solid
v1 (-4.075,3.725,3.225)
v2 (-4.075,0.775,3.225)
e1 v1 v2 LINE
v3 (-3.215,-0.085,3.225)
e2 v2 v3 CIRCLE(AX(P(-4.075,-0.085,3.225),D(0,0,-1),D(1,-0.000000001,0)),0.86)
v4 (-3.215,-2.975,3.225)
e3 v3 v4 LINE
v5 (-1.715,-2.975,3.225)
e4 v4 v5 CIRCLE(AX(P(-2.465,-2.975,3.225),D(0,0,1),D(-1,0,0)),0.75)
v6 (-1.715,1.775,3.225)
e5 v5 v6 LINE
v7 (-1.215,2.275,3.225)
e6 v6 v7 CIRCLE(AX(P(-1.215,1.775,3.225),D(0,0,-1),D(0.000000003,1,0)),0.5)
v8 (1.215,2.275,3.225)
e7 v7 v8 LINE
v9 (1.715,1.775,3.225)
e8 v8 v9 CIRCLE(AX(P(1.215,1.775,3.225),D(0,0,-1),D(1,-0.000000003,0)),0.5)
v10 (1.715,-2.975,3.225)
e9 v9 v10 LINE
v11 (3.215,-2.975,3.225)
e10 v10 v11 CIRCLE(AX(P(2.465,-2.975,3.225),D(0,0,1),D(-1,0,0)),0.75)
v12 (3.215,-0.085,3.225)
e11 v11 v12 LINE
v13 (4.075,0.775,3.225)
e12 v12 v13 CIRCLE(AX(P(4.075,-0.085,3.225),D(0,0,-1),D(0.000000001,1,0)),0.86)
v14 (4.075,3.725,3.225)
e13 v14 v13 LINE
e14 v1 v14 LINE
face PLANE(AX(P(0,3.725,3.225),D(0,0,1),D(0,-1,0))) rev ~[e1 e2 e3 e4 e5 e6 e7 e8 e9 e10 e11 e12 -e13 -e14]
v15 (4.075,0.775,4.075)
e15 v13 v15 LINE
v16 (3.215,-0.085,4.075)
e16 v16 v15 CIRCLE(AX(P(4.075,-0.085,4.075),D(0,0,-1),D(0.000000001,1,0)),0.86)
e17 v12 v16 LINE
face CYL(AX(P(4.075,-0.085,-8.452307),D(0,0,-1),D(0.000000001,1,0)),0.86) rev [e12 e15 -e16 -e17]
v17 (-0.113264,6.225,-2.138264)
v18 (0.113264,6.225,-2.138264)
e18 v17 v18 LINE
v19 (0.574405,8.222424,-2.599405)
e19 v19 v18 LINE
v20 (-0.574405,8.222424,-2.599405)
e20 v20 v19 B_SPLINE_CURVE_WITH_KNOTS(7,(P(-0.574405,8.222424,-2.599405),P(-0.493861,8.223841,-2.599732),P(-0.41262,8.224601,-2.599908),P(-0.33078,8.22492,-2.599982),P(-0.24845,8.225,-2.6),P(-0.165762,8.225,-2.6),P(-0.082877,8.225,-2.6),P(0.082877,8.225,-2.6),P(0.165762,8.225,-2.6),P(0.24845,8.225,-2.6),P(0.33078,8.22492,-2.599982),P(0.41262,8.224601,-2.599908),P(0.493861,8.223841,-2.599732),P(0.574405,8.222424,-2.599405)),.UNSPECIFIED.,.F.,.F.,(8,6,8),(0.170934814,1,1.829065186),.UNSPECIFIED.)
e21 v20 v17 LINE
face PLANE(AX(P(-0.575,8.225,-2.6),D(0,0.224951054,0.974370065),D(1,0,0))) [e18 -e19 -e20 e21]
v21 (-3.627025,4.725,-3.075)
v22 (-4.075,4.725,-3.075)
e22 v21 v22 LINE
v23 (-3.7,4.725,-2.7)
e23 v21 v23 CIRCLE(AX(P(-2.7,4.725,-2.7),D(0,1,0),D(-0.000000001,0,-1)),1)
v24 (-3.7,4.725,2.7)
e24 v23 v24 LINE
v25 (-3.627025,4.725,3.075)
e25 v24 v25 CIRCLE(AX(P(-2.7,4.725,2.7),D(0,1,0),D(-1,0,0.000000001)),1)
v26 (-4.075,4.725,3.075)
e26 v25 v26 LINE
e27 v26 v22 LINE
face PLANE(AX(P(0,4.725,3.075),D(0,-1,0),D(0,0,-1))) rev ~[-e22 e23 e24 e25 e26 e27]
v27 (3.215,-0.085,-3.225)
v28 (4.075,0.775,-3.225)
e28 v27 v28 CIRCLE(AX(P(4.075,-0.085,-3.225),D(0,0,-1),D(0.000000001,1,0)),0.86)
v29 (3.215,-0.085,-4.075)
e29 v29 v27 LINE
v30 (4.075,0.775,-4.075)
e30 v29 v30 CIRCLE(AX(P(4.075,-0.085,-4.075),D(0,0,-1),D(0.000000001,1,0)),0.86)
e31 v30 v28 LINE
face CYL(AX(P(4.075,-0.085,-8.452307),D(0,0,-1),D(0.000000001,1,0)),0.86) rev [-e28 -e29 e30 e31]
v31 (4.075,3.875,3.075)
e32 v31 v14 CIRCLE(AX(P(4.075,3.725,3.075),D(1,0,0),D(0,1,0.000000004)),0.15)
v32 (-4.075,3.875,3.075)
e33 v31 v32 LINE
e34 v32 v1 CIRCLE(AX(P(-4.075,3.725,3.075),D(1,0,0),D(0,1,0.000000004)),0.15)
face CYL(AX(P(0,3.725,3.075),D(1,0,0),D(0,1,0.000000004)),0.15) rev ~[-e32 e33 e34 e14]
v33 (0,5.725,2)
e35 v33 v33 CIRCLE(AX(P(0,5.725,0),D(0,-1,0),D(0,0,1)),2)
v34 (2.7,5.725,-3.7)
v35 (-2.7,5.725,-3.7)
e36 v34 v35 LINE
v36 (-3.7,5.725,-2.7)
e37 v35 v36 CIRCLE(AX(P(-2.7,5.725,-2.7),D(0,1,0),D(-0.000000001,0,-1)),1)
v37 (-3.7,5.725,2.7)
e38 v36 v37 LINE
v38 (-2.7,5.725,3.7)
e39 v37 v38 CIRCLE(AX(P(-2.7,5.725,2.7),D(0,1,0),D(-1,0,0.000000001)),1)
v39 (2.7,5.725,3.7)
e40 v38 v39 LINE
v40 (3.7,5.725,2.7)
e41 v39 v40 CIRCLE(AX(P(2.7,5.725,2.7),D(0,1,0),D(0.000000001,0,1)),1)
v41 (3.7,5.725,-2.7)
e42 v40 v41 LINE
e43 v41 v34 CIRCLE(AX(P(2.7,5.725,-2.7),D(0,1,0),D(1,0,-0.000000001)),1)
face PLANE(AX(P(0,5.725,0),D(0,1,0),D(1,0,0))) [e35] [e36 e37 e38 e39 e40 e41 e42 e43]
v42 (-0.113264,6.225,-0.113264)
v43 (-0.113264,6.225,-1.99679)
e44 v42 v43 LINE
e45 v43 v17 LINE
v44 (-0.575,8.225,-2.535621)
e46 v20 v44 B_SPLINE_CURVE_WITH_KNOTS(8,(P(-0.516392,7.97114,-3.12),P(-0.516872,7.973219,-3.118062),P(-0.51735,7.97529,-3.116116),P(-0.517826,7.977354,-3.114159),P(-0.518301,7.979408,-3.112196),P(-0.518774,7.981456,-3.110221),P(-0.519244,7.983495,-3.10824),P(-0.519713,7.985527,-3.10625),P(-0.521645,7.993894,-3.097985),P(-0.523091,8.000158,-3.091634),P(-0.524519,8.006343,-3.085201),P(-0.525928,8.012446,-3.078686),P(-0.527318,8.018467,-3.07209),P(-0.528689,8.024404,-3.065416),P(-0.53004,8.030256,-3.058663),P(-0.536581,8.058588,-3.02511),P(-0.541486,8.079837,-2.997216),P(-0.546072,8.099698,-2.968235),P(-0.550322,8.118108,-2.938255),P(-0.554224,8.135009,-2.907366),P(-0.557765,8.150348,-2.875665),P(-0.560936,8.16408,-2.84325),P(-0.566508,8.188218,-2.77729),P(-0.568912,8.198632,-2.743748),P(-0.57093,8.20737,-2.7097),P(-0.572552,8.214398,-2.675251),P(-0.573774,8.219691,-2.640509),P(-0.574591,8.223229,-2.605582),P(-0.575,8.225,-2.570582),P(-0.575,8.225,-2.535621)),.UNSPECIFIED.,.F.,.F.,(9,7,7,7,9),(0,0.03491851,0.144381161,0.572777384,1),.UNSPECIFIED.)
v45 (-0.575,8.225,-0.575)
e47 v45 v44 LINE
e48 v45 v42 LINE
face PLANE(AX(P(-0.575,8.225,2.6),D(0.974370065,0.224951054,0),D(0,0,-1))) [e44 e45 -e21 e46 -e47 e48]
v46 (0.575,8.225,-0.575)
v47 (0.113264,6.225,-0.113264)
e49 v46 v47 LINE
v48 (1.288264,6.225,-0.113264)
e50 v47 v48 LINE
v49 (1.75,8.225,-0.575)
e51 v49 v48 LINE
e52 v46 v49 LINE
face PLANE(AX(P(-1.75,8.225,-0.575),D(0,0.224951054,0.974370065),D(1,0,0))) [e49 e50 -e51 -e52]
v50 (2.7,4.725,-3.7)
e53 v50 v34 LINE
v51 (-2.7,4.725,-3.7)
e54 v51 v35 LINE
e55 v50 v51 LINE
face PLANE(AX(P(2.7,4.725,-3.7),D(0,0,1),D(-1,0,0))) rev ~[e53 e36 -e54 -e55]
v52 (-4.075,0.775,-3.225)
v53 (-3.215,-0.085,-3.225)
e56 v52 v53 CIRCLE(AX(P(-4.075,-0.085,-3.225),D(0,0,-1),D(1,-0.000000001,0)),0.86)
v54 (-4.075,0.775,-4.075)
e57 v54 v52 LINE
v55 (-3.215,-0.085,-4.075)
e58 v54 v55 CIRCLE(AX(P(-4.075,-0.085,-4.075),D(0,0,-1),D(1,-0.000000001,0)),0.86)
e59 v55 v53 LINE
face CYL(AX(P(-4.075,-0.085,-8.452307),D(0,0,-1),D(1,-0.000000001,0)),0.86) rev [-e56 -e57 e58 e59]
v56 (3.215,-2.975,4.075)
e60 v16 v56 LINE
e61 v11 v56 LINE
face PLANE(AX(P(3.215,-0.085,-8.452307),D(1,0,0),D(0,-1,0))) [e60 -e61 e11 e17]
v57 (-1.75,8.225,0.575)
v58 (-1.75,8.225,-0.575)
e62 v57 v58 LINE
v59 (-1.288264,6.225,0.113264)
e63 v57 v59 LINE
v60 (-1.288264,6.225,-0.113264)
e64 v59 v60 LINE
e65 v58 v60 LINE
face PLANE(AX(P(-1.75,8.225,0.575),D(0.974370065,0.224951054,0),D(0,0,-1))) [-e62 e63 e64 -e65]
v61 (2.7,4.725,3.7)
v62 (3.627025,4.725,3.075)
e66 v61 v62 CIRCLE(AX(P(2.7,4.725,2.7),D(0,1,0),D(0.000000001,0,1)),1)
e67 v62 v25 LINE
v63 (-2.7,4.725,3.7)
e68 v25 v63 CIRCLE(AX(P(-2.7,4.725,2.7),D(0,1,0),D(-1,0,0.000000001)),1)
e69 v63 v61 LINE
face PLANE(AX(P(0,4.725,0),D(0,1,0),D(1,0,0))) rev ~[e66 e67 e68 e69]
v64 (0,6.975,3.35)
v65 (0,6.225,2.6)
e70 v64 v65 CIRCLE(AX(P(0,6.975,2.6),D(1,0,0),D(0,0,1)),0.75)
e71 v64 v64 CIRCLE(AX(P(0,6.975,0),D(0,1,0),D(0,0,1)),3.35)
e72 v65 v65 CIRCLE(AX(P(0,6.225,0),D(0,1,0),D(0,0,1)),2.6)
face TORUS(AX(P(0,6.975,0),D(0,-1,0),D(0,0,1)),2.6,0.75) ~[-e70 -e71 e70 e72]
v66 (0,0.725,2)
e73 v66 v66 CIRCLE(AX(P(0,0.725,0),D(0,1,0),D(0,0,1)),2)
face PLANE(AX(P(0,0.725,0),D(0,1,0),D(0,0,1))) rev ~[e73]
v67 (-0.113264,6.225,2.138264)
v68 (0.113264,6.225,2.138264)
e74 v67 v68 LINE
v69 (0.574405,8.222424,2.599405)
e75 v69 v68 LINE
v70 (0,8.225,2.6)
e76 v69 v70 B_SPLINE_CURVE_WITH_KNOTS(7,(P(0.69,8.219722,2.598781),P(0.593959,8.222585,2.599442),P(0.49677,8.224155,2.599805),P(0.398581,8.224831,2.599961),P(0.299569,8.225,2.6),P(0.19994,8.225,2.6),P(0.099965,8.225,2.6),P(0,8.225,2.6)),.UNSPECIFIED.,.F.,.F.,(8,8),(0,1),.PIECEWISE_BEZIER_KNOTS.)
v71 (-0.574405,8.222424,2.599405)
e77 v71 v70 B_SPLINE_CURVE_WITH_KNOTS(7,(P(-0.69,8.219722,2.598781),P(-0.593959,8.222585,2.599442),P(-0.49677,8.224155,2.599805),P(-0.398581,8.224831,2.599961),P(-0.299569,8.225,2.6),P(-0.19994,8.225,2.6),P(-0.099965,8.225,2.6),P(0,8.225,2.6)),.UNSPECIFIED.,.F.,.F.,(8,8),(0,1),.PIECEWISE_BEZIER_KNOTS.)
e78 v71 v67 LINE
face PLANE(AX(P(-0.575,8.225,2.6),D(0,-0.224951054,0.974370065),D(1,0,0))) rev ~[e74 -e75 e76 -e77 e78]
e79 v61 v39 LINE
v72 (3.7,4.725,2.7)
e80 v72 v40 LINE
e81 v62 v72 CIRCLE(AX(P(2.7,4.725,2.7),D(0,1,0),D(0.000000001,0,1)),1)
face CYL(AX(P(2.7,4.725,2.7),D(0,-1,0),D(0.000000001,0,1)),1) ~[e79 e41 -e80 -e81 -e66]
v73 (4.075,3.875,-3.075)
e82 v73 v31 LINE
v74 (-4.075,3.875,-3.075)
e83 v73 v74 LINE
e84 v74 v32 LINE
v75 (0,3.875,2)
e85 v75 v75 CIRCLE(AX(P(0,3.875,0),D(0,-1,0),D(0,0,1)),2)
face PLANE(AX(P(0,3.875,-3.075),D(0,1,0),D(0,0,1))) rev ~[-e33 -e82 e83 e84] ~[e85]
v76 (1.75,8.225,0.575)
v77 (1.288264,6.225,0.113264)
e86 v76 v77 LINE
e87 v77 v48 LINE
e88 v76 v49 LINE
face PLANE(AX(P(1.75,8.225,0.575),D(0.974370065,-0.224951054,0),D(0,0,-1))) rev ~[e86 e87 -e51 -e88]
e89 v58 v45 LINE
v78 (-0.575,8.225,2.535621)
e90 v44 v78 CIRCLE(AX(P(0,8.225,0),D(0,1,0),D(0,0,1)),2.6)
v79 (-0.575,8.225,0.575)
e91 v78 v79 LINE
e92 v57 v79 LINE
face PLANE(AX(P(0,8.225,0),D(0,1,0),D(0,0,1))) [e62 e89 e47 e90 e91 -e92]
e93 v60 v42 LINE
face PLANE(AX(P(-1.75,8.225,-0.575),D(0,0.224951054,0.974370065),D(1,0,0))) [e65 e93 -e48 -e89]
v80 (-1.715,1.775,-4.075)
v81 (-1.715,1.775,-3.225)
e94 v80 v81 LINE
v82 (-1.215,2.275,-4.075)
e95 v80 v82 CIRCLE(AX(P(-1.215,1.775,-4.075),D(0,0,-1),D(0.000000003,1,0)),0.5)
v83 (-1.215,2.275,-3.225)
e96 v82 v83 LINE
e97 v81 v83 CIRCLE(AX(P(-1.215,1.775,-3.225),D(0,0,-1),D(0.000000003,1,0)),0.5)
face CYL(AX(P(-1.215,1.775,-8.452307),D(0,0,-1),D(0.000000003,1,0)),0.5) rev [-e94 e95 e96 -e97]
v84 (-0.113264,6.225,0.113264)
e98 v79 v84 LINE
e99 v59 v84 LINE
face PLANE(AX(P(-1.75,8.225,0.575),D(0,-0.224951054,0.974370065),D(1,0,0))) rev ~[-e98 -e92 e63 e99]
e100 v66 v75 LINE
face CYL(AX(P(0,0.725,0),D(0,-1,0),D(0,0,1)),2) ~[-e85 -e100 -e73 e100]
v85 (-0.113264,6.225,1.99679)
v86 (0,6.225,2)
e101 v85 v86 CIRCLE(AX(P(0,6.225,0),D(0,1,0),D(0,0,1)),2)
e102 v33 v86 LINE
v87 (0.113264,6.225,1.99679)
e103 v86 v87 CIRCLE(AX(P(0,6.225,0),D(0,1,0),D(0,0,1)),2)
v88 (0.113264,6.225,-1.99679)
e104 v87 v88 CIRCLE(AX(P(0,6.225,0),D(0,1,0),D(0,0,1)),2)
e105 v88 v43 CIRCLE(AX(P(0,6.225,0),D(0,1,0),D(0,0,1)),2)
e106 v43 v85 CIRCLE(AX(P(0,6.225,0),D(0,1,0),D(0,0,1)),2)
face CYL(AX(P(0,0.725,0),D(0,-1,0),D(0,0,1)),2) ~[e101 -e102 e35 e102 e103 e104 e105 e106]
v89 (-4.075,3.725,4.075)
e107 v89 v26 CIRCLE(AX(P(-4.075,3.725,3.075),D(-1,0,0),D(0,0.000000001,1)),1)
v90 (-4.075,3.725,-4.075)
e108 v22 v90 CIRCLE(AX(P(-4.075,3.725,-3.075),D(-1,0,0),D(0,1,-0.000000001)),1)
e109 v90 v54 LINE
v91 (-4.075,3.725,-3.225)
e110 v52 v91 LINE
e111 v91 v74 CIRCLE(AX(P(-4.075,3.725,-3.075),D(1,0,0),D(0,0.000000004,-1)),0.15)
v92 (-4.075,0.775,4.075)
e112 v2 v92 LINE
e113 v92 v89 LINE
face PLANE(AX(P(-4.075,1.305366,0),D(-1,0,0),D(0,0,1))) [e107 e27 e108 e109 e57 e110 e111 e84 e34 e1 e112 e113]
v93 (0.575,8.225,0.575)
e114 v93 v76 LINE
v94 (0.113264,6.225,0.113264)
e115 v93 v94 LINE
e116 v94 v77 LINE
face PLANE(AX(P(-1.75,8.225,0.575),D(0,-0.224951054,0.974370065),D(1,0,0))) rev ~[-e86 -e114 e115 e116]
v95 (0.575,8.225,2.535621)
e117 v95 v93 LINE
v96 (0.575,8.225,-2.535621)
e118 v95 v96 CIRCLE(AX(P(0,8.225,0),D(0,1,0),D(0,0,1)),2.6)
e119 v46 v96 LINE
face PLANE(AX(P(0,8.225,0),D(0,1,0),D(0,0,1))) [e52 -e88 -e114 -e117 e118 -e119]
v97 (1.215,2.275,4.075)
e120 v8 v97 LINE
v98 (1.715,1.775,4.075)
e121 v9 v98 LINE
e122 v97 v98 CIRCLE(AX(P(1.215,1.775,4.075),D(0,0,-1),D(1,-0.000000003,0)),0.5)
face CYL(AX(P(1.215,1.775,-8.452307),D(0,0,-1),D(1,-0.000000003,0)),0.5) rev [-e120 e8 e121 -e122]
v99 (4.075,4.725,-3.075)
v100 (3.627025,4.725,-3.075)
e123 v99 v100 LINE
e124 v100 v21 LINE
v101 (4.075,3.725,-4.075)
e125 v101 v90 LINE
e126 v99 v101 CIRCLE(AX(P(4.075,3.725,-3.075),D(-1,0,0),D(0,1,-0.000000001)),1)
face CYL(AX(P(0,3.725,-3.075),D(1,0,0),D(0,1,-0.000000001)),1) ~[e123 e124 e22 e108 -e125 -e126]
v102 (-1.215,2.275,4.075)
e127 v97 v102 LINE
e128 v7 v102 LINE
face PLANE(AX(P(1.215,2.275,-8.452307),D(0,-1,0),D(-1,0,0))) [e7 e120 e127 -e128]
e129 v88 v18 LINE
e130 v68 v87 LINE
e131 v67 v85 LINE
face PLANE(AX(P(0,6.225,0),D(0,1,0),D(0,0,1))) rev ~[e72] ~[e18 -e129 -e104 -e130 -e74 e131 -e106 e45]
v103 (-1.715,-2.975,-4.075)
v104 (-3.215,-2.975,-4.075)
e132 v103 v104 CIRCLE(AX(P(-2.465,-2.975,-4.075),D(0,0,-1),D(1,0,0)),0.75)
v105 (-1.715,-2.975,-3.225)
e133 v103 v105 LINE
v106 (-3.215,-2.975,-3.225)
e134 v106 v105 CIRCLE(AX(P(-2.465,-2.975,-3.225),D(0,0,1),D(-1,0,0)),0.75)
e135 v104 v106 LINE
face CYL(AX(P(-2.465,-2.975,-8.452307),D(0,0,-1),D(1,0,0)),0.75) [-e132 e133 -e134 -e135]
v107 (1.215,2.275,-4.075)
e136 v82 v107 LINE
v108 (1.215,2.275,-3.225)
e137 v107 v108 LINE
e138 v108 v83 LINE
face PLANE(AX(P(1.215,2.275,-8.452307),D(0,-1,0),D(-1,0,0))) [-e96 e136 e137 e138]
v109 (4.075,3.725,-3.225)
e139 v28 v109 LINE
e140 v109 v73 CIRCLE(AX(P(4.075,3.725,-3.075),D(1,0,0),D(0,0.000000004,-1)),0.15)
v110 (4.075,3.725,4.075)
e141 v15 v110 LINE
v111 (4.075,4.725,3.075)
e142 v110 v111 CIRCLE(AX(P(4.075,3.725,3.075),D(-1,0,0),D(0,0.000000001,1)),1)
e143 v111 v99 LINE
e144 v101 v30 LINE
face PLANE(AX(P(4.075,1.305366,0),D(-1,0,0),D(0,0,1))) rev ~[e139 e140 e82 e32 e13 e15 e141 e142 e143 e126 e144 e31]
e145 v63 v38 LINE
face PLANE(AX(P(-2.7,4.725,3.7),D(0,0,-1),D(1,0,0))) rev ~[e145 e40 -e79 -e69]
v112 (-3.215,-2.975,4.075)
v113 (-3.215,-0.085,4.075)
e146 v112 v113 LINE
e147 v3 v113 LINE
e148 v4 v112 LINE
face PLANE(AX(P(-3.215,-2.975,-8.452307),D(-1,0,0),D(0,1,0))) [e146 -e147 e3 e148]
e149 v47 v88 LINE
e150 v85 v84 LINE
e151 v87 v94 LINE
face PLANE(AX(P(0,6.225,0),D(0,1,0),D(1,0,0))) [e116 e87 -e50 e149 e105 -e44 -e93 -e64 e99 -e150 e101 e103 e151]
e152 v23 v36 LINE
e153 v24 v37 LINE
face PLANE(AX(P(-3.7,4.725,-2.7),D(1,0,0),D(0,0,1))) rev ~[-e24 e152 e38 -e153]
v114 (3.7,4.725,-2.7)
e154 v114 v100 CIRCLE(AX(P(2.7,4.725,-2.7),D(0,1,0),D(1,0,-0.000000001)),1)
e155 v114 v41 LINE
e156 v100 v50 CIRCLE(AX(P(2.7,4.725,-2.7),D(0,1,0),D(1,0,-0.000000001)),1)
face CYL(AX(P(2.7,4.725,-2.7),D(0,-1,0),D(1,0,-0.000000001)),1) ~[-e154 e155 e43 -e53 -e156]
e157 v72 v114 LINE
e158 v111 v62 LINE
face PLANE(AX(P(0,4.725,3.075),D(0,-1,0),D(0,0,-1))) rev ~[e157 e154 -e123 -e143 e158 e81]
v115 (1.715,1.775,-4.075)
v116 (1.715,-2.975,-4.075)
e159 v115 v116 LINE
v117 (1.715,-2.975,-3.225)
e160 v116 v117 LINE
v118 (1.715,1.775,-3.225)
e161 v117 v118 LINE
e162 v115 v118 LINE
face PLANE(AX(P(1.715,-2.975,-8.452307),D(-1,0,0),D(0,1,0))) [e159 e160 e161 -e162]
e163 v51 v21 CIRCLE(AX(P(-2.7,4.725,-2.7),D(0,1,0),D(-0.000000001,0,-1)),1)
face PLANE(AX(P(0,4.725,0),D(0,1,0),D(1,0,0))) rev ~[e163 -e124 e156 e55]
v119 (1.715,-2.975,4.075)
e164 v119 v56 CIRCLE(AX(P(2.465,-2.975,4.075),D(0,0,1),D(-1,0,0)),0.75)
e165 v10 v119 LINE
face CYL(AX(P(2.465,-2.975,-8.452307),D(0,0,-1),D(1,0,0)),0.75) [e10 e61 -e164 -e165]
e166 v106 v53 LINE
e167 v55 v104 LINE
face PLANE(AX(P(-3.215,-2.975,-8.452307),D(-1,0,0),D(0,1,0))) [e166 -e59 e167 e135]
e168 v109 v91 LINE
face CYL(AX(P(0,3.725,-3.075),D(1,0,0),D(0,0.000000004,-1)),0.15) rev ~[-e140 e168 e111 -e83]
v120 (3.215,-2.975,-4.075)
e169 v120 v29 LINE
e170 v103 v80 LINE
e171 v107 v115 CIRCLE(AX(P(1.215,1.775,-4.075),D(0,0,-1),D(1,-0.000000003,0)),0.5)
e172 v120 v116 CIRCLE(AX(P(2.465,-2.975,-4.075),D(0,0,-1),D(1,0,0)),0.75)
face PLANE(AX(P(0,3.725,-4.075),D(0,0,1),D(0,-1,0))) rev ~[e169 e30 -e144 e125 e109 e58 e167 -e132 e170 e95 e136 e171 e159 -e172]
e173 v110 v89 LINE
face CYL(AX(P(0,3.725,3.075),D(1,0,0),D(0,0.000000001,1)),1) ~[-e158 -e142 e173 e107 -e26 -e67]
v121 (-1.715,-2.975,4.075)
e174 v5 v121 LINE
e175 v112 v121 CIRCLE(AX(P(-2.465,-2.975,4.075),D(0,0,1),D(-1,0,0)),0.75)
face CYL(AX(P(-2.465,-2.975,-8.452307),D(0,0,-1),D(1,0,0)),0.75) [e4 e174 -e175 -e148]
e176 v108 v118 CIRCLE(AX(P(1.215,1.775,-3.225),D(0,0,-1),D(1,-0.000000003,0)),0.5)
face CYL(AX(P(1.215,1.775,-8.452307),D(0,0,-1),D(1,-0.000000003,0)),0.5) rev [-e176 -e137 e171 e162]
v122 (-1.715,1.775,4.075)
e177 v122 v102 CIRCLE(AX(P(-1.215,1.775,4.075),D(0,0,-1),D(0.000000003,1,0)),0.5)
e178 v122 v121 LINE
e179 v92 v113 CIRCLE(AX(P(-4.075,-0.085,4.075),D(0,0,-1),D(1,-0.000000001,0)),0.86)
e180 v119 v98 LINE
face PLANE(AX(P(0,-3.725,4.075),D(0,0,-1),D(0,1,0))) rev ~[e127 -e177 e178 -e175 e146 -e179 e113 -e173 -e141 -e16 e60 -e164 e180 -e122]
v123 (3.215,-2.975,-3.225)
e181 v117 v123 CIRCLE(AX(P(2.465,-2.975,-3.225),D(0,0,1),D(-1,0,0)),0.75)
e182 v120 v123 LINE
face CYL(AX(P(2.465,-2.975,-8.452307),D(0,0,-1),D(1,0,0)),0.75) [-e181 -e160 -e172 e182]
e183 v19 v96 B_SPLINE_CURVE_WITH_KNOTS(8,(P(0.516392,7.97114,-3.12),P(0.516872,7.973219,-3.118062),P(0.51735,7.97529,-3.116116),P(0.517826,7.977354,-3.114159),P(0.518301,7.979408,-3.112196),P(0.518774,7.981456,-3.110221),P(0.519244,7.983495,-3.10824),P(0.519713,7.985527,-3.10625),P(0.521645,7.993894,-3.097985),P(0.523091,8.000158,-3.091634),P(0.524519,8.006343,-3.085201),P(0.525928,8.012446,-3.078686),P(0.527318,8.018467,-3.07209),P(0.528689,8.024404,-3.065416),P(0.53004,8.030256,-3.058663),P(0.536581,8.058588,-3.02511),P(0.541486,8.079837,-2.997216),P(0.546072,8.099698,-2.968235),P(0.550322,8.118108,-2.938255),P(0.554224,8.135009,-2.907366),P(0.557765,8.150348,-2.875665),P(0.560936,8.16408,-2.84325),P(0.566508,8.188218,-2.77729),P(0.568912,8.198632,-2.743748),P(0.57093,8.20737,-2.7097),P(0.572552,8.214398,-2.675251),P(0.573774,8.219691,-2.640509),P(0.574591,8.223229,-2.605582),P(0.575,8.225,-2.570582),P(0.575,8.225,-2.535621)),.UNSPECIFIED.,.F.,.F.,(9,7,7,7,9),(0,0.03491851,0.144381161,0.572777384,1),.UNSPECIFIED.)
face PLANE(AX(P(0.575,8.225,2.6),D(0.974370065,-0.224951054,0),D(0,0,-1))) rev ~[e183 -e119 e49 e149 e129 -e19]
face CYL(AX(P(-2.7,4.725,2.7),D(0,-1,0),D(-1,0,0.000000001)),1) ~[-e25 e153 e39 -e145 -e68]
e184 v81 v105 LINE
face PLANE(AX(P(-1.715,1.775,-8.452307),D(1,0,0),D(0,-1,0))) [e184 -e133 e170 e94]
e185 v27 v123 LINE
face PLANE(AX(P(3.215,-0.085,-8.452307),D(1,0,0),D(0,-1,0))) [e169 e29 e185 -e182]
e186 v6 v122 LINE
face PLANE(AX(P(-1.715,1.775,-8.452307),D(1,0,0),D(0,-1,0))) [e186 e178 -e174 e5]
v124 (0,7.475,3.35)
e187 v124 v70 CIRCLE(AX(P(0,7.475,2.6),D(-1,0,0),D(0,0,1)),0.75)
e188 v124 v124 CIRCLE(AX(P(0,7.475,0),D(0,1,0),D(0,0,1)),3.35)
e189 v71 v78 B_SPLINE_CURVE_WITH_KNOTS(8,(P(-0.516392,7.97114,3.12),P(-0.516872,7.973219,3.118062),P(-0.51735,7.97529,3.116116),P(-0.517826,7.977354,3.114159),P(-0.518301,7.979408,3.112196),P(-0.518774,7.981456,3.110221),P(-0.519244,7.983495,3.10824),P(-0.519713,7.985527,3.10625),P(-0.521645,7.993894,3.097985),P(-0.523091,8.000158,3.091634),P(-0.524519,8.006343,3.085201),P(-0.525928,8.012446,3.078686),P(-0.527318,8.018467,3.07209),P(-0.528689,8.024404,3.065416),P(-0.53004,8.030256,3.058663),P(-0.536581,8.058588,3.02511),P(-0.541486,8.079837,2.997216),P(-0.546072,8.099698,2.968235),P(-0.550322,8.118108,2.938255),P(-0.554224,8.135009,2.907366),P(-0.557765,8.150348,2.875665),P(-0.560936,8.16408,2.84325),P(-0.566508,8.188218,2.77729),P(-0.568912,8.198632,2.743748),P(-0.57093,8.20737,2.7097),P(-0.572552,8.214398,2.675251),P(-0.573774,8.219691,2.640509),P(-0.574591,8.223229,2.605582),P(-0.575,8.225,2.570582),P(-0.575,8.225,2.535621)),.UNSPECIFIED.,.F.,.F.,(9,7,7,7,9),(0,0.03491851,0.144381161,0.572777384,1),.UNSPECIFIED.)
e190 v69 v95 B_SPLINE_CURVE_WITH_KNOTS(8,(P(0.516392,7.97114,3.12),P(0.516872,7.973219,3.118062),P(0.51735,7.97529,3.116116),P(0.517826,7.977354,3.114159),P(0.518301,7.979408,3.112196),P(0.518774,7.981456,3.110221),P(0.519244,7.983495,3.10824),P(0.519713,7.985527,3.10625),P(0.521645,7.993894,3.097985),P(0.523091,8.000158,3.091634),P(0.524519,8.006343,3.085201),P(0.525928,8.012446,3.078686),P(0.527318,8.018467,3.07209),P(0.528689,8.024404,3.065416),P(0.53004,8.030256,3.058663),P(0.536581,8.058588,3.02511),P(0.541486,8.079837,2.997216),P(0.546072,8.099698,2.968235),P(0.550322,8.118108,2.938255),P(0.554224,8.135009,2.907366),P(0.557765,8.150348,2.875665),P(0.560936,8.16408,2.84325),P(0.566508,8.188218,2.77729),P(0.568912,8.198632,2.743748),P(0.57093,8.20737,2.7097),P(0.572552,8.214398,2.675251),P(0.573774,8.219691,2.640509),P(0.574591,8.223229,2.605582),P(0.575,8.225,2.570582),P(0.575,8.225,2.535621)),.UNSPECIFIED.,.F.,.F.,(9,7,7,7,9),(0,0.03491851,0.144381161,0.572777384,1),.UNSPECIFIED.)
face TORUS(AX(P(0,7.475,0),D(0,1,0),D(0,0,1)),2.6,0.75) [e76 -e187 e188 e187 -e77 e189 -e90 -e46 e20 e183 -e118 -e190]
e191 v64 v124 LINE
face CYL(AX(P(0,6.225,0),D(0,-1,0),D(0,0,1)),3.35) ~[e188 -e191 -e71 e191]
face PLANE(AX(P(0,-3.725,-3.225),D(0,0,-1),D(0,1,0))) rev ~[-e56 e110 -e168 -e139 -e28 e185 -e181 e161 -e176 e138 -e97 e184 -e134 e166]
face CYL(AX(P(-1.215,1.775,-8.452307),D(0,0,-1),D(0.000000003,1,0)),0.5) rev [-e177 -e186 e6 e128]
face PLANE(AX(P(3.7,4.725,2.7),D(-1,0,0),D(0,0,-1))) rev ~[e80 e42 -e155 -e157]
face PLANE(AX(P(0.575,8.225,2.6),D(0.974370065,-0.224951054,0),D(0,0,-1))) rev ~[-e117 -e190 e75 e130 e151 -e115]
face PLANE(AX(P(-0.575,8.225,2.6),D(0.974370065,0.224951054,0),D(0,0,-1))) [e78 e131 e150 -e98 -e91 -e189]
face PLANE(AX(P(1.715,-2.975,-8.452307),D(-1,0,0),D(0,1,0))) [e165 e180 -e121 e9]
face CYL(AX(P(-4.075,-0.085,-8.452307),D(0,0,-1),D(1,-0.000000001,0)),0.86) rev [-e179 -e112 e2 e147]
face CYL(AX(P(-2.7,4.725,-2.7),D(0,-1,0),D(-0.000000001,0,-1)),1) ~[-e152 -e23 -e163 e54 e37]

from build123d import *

# Parameters (mm, degrees)
EXTRUDE_THIN1_DEPTH               = 4.075
CUT_EXTRUDE1_DEPTH                = 8.45230669
CUT_EXTRUDE1_DEPTH_BACK           = 8.45230669
BOSS_EXTRUDE1_DEPTH               = 1
BOSS_EXTRUDE2_DEPTH               = 0.5
BOSS_EXTRUDE2_DEPTH_BACK          = 5
SKETCH5_R                         = 2
SKETCH6_R                         = 3.35
BOSS_EXTRUDE3_DEPTH               = 2
FILLET1_R                         = 0.75
SKETCH7_W                         = 1.15
SKETCH7_H                         = 5.2
CUT_EXTRUDE_THIN1_DEPTH           = 2
CUT_EXTRUDE_THIN1_DRAFT           = -13
SKETCH7_W_2                       = 3.5
SKETCH7_H_2                       = 1.15
CUT_EXTRUDE_THIN1_PROFILE_2_DEPTH = 2
CUT_EXTRUDE_THIN1_PROFILE_2_DRAFT = -13


with BuildPart() as part:
    # Sketch1 → Extrude-Thin1 (new, symmetric)
    with BuildSketch(Plane(origin=(0, 0, 0), x_dir=(0, 0, -1), z_dir=(1, 0, 0))):
        with BuildLine():
            Line((-4.075, -3.725), (-4.075, 3.725))
            ThreePointArc((-4.075, 3.725), (-3.782106781, 4.432106781), (-3.075, 4.725))
            Line((-3.075, 4.725), (3.075, 4.725))
            ThreePointArc((3.075, 4.725), (3.782106781, 4.432106781), (4.075, 3.725))
            Line((4.075, 3.725), (4.075, -3.725))
            Line((4.075, -3.725), (3.225, -3.725))
            Line((3.225, -3.725), (3.225, 3.725))
            ThreePointArc((3.225, 3.725), (3.181066017, 3.831066017), (3.075, 3.875))
            Line((3.075, 3.875), (-3.075, 3.875))
            ThreePointArc((-3.075, 3.875), (-3.181066017, 3.831066017), (-3.225, 3.725))
            Line((-3.225, 3.725), (-3.225, -3.725))
            Line((-3.225, -3.725), (-4.075, -3.725))
        make_face()
    extrude(amount=EXTRUDE_THIN1_DEPTH, both=True)

    # Sketch3 → Cut-Extrude1 (cut, two sides: drawn at the far end of the back side and taken through both)
    with BuildSketch(Plane.XY.offset(-CUT_EXTRUDE1_DEPTH_BACK)):
        with BuildLine():
            Line((-1.715, -3.725), (1.715, -3.725))
            Line((1.715, -3.725), (1.715, -3.972782835))
            Line((1.715, -3.972782835), (3.215, -3.972782835))
            Line((3.215, -3.972782835), (3.215, -3.725))
            Line((3.215, -3.725), (4.075, -3.725))
            Line((4.075, -3.725), (4.075, 0.775))
            ThreePointArc((4.075, 0.775), (3.466888168, 0.523111832), (3.215, -0.085))
            Line((3.215, -0.085), (3.215, -2.975))
            ThreePointArc((3.215, -2.975), (2.465, -3.725), (1.715, -2.975))
            Line((1.715, -2.975), (1.715, 1.775))
            ThreePointArc((1.715, 1.775), (1.568553391, 2.128553391), (1.215, 2.275))
            Line((1.215, 2.275), (-1.215, 2.275))
            ThreePointArc((-1.215, 2.275), (-1.568553391, 2.128553391), (-1.715, 1.775))
            Line((-1.715, 1.775), (-1.715, -2.975))
            ThreePointArc((-1.715, -2.975), (-2.465, -3.725), (-3.215, -2.975))
            Line((-3.215, -2.975), (-3.215, -0.085))
            ThreePointArc((-3.215, -0.085), (-3.466888168, 0.523111832), (-4.075, 0.775))
            Line((-4.075, 0.775), (-4.075, -3.725))
            Line((-4.075, -3.725), (-3.215, -3.725))
            Line((-3.215, -3.725), (-3.215, -3.972782835))
            Line((-3.215, -3.972782835), (-1.715, -3.972782835))
            Line((-1.715, -3.972782835), (-1.715, -3.725))
        make_face()
    extrude(amount=CUT_EXTRUDE1_DEPTH + CUT_EXTRUDE1_DEPTH_BACK, mode=Mode.SUBTRACT)

    # Sketch4 → Boss-Extrude1 (add)
    with BuildSketch(Plane(origin=(0, 4.725, 0), x_dir=(1, 0, 0), z_dir=(0, 1, 0))):
        with BuildLine():
            Line((-2.7, -3.7), (2.7, -3.7))
            ThreePointArc((2.7, -3.7), (3.407106781, -3.407106781), (3.7, -2.7))
            Line((3.7, -2.7), (3.7, 2.7))
            ThreePointArc((3.7, 2.7), (3.407106781, 3.407106781), (2.7, 3.7))
            Line((2.7, 3.7), (-2.7, 3.7))
            ThreePointArc((-2.7, 3.7), (-3.407106781, 3.407106781), (-3.7, 2.7))
            Line((-3.7, 2.7), (-3.7, -2.7))
            ThreePointArc((-3.7, -2.7), (-3.407106781, -3.407106781), (-2.7, -3.7))
        make_face()
    extrude(amount=BOSS_EXTRUDE1_DEPTH)

    # Sketch5 → Boss-Extrude2 (add, two sides: drawn at the far end of the back side and taken through both)
    with BuildSketch(Plane(origin=(0, 5.725, 0), x_dir=(1, 0, 0), z_dir=(0, 1, 0)).offset(-BOSS_EXTRUDE2_DEPTH_BACK)):
        with Locations(Location((0, 0, 0), (0, 0, 270))):
            Circle(SKETCH5_R)
    extrude(amount=BOSS_EXTRUDE2_DEPTH + BOSS_EXTRUDE2_DEPTH_BACK)

    # Sketch6 → Boss-Extrude3 (add)
    with BuildSketch(Plane(origin=(0, 6.225, 0), x_dir=(1, 0, 0), z_dir=(0, 1, 0))):
        with Locations(Location((0, 0, 0), (0, 0, 270))):
            Circle(SKETCH6_R)
    extrude(amount=BOSS_EXTRUDE3_DEPTH)

    # Fillet1
    fillet1_edges = [part.edges().sort_by_distance(p)[0] for p in [
        (0, 6.225, -3.35),
        (0, 8.225, -3.35),
    ]]
    fillet(fillet1_edges, radius=FILLET1_R)


with BuildPart() as cut_extrude_thin1_tool:
    # Sketch7 → Cut-Extrude-Thin1 (with draft: the straight prism first)
    with BuildSketch(Plane(origin=(0, 8.225, 0), x_dir=(1, 0, 0), z_dir=(0, 1, 0))):
        Rectangle(SKETCH7_W, SKETCH7_H)
    extrude(amount=-CUT_EXTRUDE_THIN1_DEPTH)
    # Cut-Extrude-Thin1: the draft: its side faces are tilted about the plane it starts from
    cut_extrude_thin1_sides = [cut_extrude_thin1_tool.faces().sort_by_distance(p)[0] for p in [
        (-0.575, 7.225, 0),
        (0, 7.225, 2.6),
        (0.575, 7.225, 0),
        (0, 7.225, -2.6),
    ]]
    draft(cut_extrude_thin1_sides, Plane(origin=(0, 8.225, 0), x_dir=(1, 0, 0), z_dir=(0, 1, 0)), CUT_EXTRUDE_THIN1_DRAFT)


with BuildPart() as part_1:
    add(part.part)

    # Cut-Extrude-Thin1: cut by cut_extrude_thin1_tool
    add(cut_extrude_thin1_tool.part, mode=Mode.SUBTRACT)


with BuildPart() as cut_extrude_thin1_profile_2_tool:
    # Sketch7 → Cut-Extrude-Thin1 profile 2 (with draft: the straight prism first)
    with BuildSketch(Plane(origin=(0, 8.225, 0), x_dir=(1, 0, 0), z_dir=(0, 1, 0))):
        Rectangle(SKETCH7_W_2, SKETCH7_H_2)
    extrude(amount=-CUT_EXTRUDE_THIN1_PROFILE_2_DEPTH)
    # Cut-Extrude-Thin1 profile 2: the draft: its side faces are tilted about the plane it starts from
    cut_extrude_thin1_profile_2_sides = [cut_extrude_thin1_profile_2_tool.faces().sort_by_distance(p)[0] for p in [
        (0, 7.225, -0.575),
        (-1.75, 7.225, 0),
        (0, 7.225, 0.575),
        (1.75, 7.225, 0),
    ]]
    draft(cut_extrude_thin1_profile_2_sides, Plane(origin=(0, 8.225, 0), x_dir=(1, 0, 0), z_dir=(0, 1, 0)), CUT_EXTRUDE_THIN1_PROFILE_2_DRAFT)


with BuildPart() as part_2:
    add(part_1.part)

    # Cut-Extrude-Thin1 profile 2: cut by cut_extrude_thin1_profile_2_tool
    add(cut_extrude_thin1_profile_2_tool.part, mode=Mode.SUBTRACT)


solid = part_2.part
